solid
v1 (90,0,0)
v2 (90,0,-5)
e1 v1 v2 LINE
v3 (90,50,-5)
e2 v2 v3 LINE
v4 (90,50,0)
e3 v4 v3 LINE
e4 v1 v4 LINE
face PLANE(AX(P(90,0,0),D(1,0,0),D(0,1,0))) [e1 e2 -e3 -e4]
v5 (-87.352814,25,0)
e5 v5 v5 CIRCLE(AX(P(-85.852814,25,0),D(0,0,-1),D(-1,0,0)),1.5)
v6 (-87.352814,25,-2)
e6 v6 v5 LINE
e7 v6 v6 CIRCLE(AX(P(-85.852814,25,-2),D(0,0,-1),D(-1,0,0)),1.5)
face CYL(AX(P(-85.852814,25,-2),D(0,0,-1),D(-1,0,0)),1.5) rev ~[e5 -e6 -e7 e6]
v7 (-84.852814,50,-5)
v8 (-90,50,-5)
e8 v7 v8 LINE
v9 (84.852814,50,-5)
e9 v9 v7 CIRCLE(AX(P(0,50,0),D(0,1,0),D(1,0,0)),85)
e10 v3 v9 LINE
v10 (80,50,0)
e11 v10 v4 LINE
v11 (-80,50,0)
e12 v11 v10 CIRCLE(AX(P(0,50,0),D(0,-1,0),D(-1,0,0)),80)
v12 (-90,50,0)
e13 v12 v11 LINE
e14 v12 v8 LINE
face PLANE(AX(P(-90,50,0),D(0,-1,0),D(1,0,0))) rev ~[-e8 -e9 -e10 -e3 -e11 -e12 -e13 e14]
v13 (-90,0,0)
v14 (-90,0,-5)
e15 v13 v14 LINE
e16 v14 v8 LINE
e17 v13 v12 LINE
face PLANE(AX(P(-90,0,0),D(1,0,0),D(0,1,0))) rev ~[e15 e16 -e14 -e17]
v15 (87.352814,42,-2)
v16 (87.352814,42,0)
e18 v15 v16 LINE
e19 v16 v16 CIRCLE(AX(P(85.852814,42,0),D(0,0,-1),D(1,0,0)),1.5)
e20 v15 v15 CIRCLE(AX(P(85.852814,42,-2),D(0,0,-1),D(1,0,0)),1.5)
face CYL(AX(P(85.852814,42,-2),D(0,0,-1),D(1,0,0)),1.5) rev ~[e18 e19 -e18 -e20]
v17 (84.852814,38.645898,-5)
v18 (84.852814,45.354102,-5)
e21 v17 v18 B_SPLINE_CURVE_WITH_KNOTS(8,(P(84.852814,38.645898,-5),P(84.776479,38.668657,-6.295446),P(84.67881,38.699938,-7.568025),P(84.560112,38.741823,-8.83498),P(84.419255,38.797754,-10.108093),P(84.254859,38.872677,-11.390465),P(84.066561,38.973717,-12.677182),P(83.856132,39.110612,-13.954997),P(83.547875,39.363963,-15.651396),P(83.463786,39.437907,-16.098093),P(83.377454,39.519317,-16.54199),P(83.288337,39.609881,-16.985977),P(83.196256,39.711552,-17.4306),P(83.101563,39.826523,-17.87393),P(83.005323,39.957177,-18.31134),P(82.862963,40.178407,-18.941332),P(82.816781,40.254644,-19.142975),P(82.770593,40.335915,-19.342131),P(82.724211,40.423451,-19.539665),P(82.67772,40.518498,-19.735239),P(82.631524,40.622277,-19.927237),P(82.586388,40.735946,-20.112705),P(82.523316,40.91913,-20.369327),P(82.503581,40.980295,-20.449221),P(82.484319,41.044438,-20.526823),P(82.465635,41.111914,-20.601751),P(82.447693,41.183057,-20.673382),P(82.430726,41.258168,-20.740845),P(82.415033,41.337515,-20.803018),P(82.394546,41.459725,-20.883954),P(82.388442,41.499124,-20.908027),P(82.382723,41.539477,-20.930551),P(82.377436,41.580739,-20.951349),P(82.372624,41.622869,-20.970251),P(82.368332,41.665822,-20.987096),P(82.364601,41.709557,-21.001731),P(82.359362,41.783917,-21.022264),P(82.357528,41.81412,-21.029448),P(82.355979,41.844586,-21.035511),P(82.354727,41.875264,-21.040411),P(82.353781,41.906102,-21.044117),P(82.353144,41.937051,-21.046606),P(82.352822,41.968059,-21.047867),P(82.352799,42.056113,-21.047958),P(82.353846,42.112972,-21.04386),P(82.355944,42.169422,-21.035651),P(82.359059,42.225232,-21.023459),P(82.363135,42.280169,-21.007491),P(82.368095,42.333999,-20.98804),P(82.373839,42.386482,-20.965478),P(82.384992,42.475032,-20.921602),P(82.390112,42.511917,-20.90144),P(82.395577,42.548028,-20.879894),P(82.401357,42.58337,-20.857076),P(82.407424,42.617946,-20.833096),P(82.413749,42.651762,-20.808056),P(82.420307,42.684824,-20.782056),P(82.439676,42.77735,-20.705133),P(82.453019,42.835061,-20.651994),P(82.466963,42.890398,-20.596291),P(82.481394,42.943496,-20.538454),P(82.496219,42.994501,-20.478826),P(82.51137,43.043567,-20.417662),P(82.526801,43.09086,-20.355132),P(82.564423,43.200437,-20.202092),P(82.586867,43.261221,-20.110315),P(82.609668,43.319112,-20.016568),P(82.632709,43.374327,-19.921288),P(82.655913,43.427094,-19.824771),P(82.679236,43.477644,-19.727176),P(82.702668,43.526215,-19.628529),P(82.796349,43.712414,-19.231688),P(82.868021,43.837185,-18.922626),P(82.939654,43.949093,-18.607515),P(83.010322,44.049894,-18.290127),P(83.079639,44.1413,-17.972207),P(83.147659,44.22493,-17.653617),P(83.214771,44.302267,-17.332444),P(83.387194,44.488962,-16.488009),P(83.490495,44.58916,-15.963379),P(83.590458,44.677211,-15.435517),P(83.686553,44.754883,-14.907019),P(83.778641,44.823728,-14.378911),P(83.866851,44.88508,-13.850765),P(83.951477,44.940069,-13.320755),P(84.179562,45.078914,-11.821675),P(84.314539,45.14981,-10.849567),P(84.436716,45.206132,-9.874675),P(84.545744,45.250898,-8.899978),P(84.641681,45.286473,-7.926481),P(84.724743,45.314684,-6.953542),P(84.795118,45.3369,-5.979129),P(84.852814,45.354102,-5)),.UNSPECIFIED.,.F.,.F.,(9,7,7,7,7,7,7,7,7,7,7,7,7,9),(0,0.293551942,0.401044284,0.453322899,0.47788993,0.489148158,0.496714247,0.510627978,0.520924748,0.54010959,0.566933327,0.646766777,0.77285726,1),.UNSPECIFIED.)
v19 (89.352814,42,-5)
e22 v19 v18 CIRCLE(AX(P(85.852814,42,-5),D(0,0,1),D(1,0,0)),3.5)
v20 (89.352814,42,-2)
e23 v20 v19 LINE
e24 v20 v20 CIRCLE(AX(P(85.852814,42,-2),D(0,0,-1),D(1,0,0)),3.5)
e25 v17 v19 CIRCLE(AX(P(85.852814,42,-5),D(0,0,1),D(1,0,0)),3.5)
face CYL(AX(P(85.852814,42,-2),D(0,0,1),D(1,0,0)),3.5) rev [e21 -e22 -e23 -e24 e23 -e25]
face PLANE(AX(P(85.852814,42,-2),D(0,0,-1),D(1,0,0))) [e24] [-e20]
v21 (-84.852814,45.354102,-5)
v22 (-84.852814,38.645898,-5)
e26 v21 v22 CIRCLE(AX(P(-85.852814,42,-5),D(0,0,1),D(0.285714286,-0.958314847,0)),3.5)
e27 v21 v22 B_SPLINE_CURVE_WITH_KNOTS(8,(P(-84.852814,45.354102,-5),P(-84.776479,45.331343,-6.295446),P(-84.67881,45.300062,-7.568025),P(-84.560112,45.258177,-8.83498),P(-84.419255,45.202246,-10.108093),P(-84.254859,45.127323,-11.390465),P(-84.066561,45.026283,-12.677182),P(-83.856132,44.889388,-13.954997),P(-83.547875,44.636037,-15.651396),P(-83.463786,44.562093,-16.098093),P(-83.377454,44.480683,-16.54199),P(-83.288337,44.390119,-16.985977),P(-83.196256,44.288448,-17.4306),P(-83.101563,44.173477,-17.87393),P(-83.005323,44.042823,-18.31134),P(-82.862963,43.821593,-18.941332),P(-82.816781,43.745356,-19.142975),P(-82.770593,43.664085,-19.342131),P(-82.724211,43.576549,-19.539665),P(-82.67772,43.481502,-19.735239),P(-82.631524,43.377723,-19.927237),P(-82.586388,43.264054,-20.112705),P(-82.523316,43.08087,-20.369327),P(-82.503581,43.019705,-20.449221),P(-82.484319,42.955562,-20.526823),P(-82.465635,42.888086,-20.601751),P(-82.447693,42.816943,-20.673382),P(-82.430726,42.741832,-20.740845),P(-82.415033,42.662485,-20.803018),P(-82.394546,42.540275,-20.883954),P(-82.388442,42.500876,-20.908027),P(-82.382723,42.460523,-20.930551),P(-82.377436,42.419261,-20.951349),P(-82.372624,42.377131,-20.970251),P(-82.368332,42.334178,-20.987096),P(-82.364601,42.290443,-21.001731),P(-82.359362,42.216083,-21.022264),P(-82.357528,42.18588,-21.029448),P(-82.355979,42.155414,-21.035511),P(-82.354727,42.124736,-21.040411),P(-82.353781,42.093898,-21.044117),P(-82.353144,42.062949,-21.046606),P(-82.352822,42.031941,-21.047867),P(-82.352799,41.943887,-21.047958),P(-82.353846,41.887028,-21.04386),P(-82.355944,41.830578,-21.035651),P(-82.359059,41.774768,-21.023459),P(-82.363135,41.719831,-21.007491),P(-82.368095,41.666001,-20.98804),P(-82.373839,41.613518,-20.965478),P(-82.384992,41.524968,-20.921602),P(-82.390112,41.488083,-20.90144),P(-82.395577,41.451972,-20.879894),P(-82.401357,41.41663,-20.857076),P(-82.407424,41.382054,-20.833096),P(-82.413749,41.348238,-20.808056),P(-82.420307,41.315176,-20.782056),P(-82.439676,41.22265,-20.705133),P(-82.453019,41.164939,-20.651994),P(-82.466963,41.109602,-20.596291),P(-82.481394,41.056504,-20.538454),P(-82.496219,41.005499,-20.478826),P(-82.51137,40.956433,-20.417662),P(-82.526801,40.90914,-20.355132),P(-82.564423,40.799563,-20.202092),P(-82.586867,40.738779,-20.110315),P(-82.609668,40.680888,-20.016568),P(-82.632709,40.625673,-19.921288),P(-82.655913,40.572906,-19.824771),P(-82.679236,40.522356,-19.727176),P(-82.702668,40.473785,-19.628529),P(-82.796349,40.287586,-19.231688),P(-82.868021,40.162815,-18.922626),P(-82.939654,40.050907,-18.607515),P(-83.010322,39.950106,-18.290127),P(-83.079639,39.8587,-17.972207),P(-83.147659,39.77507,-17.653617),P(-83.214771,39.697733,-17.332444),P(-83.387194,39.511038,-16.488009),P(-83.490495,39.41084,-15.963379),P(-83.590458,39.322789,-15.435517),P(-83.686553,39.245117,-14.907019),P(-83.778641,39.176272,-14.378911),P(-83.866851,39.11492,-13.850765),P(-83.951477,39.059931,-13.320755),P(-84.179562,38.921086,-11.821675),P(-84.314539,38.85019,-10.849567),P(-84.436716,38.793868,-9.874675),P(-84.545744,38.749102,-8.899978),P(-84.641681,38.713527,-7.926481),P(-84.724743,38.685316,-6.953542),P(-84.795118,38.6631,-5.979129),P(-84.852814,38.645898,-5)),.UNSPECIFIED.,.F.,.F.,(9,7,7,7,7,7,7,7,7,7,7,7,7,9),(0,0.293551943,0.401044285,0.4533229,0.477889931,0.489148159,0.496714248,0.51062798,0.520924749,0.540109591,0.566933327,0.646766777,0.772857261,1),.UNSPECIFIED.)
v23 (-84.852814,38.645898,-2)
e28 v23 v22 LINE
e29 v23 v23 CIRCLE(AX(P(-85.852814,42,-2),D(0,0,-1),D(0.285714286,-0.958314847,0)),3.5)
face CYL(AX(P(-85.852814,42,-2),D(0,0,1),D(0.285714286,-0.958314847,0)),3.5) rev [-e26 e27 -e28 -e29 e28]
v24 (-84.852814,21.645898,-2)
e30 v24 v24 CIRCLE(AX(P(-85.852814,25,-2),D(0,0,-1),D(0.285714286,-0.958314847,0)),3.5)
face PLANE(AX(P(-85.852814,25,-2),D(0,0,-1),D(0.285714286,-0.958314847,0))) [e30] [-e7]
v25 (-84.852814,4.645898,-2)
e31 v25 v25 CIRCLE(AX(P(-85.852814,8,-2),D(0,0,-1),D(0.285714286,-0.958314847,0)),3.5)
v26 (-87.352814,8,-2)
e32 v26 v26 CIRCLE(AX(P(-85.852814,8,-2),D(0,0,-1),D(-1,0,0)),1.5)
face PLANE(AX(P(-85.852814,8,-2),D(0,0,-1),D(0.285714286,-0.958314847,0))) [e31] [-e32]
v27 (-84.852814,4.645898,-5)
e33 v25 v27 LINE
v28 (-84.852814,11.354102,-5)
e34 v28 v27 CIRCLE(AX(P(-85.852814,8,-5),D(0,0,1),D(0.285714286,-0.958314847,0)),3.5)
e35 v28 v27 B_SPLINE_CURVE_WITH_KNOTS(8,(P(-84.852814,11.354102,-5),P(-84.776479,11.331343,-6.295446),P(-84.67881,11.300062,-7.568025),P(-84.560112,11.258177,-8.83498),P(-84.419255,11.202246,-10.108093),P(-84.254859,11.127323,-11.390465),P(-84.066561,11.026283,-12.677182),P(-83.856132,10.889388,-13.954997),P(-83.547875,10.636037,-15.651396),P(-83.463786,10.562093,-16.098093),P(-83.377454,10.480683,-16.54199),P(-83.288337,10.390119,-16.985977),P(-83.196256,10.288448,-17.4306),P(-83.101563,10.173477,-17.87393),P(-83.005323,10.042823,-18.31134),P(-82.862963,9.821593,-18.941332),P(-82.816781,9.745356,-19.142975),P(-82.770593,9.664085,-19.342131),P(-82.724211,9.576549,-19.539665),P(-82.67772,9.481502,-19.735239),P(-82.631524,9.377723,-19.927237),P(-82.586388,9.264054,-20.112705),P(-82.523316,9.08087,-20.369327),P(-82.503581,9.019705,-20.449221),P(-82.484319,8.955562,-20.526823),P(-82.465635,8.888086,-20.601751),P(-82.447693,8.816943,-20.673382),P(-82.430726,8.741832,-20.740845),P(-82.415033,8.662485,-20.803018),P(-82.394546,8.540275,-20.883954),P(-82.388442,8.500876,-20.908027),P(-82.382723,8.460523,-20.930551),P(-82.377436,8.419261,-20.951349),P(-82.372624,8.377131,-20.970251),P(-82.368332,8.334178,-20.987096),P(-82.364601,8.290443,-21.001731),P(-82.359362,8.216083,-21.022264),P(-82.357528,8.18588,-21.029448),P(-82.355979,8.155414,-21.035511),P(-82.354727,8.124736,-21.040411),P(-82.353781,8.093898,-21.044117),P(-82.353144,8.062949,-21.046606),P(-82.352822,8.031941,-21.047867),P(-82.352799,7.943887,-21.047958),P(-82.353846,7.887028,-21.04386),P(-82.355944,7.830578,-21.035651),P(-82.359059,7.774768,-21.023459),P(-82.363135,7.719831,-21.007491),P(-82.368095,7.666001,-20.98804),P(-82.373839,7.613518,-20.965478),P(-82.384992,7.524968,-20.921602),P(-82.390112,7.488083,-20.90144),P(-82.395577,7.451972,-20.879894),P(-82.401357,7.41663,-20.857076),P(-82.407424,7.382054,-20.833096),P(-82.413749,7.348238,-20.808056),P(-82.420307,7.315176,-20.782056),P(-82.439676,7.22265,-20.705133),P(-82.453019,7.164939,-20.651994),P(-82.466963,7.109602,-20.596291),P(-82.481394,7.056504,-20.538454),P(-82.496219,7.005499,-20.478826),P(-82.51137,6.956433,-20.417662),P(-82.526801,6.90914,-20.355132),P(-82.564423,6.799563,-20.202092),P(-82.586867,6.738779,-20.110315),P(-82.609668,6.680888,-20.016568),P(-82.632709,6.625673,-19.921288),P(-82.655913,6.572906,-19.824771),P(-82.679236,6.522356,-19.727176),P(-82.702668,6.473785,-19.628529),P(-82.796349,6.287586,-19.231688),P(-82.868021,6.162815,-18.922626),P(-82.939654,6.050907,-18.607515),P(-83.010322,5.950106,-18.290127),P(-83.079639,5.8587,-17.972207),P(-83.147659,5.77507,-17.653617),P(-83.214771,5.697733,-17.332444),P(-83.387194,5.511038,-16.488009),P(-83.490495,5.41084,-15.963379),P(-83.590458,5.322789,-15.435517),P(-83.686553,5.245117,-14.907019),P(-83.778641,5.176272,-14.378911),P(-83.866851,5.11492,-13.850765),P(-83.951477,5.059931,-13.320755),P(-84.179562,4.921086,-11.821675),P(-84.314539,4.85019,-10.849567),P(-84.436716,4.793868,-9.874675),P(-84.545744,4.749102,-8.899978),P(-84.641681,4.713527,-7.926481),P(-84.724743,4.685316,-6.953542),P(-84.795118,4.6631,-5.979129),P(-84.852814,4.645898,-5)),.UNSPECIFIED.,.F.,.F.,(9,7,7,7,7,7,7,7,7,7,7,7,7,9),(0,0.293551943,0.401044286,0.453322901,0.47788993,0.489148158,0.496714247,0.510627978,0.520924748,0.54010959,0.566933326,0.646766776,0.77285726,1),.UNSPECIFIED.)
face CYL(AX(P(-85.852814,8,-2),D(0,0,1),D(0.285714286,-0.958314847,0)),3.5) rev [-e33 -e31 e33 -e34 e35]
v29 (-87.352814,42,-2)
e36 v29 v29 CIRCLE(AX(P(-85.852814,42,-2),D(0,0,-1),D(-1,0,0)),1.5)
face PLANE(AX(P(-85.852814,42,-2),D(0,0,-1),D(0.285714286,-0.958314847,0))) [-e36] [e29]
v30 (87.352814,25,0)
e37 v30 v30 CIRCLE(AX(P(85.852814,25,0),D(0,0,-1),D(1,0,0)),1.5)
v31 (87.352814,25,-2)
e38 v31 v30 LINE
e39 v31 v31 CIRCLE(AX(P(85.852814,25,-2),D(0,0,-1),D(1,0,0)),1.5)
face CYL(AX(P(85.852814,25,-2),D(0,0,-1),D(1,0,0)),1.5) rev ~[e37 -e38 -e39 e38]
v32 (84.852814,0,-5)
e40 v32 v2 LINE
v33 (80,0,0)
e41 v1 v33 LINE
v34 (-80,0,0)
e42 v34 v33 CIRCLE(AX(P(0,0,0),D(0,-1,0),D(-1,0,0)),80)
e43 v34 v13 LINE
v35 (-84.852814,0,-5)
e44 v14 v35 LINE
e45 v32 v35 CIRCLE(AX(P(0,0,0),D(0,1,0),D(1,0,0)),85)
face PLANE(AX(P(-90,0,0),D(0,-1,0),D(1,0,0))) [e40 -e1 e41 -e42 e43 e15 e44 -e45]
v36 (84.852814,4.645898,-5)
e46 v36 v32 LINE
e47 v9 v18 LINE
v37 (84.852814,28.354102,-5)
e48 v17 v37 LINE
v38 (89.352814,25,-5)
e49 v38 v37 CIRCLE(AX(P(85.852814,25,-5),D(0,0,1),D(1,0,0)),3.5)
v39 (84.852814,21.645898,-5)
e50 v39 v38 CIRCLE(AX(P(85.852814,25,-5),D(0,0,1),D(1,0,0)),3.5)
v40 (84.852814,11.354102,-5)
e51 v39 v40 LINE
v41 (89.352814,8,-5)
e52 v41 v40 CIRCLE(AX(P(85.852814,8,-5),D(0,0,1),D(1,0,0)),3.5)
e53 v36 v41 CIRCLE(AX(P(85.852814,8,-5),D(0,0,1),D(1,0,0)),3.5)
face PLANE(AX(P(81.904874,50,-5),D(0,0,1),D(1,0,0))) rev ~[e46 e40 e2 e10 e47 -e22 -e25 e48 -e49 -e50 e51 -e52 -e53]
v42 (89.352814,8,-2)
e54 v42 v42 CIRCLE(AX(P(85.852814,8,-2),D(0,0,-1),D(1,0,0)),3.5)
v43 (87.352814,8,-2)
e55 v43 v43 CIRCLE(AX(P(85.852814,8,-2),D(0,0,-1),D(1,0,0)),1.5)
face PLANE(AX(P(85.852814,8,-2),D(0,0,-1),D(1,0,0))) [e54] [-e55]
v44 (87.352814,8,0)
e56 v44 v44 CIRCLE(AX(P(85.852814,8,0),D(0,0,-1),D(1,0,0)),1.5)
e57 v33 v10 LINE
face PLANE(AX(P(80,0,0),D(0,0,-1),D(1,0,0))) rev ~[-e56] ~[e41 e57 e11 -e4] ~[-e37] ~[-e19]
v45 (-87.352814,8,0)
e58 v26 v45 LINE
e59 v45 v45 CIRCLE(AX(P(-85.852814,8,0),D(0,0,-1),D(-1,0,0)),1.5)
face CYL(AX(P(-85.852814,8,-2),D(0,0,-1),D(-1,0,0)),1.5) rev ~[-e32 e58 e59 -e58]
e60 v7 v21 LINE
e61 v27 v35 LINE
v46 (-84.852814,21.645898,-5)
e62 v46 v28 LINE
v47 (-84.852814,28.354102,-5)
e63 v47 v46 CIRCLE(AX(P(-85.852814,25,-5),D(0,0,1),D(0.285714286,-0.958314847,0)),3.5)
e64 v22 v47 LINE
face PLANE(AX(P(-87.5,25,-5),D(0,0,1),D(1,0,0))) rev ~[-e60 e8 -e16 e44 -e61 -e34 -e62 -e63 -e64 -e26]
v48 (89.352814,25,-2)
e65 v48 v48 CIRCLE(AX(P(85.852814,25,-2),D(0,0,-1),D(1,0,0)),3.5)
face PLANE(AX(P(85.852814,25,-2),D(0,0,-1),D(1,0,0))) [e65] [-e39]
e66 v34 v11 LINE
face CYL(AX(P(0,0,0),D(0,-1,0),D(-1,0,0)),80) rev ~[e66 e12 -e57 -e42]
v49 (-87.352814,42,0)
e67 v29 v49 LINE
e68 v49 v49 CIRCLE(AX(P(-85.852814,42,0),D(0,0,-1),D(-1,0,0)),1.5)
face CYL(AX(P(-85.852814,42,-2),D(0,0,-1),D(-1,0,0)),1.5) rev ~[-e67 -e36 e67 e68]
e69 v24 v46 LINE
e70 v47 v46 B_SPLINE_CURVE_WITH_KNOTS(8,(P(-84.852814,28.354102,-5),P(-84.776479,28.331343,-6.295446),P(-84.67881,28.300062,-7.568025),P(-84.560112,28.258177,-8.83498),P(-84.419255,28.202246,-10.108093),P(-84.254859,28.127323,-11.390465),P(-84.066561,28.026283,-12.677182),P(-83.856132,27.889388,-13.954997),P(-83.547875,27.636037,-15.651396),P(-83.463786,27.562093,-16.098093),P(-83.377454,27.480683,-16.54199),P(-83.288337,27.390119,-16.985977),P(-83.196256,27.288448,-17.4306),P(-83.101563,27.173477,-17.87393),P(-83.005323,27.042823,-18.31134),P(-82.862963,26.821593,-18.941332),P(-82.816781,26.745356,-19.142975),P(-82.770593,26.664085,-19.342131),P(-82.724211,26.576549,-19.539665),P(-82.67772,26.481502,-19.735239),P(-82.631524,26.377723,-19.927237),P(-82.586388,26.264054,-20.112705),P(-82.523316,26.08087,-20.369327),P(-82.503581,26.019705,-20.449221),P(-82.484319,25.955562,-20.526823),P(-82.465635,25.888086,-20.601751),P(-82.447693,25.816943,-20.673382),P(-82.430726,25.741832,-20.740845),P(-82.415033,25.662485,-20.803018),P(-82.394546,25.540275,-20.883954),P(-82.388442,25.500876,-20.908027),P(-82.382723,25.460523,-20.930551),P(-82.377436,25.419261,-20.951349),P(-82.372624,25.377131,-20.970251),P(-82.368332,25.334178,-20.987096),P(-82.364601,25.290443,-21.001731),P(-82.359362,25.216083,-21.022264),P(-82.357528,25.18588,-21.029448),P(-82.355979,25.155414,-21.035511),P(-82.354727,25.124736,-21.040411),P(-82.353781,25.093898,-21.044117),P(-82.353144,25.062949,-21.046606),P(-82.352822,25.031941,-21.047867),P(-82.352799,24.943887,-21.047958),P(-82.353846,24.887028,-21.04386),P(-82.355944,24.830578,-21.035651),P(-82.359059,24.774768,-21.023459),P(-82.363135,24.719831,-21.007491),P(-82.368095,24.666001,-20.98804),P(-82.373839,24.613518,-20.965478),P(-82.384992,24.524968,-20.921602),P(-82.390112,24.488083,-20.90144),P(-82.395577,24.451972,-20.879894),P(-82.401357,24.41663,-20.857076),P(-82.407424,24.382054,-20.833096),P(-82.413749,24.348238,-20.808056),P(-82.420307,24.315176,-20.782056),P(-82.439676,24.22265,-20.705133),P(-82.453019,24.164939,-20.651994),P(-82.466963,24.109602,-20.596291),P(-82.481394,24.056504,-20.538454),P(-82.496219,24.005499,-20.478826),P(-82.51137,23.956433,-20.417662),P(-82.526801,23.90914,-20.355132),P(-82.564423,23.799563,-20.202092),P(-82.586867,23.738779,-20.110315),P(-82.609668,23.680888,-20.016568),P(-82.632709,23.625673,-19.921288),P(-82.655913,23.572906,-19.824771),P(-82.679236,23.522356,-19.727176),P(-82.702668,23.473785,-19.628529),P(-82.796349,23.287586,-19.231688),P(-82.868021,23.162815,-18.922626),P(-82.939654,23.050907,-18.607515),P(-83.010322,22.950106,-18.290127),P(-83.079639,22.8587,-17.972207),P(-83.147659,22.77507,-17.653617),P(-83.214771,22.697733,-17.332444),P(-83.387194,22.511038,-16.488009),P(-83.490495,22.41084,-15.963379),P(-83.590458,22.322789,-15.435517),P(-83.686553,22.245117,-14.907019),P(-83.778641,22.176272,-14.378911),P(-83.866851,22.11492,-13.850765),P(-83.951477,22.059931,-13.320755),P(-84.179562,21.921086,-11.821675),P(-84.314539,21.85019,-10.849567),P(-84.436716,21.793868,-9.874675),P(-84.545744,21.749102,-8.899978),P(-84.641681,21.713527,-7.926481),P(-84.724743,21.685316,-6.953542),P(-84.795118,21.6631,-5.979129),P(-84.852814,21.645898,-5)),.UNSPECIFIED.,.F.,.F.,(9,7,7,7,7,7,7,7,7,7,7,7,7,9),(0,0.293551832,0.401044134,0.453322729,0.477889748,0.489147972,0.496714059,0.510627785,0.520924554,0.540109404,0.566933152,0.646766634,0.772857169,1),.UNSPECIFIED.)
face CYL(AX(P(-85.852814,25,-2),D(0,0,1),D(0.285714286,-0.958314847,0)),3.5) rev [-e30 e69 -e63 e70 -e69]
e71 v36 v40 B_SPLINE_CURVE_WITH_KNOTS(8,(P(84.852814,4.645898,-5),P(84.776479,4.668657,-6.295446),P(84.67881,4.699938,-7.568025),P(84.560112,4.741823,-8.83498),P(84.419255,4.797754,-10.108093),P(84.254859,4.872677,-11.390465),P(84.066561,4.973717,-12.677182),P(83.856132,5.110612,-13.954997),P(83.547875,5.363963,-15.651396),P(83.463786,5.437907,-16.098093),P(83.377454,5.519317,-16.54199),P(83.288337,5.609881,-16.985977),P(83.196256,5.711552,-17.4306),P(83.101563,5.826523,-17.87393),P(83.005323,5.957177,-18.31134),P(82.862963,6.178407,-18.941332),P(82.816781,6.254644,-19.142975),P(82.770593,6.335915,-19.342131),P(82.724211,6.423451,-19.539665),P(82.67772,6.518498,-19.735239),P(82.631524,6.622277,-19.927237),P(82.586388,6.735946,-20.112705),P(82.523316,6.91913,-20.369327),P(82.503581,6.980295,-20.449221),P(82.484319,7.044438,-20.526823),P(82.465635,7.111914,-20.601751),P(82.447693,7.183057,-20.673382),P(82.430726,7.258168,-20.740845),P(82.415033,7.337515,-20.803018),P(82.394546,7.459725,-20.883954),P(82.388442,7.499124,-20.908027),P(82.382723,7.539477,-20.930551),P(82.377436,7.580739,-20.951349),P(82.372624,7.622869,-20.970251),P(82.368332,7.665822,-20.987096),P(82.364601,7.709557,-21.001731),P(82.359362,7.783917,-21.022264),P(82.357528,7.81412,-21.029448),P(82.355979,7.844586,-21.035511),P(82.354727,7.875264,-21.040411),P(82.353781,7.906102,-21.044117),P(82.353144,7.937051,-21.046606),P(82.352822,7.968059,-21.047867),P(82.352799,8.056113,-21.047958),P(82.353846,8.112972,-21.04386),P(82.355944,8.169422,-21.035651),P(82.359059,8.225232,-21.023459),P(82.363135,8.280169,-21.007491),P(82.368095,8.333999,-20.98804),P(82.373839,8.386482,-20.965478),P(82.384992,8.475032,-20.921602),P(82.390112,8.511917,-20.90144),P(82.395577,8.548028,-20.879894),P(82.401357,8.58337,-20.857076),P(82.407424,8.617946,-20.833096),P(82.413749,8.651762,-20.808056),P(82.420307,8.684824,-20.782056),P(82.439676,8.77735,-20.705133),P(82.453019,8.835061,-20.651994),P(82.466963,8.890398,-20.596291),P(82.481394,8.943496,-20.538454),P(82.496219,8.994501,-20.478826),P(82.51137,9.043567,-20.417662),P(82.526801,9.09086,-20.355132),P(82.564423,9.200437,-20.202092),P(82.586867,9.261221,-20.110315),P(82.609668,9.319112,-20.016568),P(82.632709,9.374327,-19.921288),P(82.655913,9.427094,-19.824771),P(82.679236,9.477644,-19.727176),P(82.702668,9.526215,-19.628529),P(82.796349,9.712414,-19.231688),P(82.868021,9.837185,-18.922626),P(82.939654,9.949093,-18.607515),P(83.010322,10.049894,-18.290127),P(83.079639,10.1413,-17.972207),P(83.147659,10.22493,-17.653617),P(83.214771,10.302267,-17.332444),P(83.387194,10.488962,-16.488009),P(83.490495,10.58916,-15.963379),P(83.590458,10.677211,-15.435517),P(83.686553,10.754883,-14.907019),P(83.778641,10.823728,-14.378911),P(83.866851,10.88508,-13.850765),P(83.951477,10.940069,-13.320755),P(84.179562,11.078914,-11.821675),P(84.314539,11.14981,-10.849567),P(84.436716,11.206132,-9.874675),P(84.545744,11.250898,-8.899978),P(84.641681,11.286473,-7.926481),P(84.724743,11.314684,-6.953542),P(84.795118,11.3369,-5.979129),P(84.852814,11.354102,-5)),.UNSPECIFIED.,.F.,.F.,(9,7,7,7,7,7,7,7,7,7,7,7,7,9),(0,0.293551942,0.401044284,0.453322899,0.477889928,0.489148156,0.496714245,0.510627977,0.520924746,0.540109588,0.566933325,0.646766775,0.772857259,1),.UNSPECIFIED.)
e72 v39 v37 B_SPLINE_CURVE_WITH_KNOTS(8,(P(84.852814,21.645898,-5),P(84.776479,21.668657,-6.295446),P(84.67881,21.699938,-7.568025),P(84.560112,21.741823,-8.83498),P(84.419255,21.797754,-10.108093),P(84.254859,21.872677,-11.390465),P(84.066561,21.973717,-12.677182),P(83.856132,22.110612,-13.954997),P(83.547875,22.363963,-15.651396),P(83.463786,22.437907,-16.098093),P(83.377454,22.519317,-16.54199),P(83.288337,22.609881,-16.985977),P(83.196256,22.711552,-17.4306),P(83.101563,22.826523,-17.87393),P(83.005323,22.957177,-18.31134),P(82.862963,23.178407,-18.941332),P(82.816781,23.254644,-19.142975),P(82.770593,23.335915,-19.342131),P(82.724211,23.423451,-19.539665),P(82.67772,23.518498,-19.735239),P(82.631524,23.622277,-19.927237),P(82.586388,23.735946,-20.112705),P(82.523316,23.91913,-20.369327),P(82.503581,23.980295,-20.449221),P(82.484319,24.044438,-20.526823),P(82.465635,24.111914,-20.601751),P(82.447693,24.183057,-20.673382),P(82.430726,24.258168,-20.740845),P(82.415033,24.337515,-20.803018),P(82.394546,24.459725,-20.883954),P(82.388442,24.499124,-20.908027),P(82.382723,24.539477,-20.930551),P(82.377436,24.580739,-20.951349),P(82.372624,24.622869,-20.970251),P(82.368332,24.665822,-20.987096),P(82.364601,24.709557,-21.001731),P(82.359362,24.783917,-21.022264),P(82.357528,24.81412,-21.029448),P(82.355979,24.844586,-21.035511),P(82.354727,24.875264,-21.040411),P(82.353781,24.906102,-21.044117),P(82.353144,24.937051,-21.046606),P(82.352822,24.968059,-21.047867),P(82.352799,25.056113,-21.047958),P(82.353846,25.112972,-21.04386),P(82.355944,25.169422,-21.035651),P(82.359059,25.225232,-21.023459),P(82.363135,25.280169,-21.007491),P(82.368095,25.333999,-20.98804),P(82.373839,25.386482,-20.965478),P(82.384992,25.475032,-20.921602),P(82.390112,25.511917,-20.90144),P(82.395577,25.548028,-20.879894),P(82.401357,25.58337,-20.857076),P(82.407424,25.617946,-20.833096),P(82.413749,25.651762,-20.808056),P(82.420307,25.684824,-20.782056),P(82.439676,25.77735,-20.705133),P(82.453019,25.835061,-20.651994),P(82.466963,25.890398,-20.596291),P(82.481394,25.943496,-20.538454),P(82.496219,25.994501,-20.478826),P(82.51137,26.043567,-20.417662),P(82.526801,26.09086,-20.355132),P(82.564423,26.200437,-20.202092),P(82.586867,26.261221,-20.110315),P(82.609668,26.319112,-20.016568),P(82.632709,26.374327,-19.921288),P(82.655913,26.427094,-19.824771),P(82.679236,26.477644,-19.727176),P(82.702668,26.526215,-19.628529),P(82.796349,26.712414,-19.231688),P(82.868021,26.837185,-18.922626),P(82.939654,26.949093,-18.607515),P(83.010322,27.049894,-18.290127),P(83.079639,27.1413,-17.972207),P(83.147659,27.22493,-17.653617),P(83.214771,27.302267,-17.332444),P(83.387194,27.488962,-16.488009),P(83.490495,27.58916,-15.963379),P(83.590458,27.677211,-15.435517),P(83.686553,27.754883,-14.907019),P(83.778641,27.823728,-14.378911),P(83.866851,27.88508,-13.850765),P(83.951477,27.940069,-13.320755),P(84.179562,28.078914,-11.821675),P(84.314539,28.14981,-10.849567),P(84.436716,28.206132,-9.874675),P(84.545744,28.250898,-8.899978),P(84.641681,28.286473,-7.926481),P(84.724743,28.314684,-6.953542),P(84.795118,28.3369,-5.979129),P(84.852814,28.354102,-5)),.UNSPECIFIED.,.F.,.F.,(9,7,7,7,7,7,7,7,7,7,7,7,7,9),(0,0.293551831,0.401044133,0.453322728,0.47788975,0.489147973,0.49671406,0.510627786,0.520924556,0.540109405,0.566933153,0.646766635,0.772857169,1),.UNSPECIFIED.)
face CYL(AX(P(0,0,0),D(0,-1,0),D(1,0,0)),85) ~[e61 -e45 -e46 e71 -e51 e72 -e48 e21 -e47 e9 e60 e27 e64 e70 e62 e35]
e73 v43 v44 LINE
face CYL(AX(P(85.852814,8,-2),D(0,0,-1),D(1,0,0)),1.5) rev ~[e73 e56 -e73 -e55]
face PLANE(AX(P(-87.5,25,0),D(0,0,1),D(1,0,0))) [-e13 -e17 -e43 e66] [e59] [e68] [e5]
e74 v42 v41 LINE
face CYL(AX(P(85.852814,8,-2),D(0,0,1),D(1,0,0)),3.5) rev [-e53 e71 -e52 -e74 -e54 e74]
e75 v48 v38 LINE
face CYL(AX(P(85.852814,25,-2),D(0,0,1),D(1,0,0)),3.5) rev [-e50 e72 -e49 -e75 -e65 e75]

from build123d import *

# Parameters (mm, degrees)
BOSS_EXTRUDE1_DEPTH     = 50
SKETCH2_W               = 5
SKETCH2_H               = 50
BOSS_EXTRUDE2_DEPTH     = 5
BOSS_EXTRUDE2_2_DEPTH   = 5
SKETCH3_W               = 8.095126166
SKETCH3_H               = 5
BOSS_EXTRUDE3_DEPTH     = 50
CUT_EXTRUDE1_DEPTH      = 131.384048104
CUT_EXTRUDE1_DEPTH_BACK = 3
SKETCH4_R               = 3.5
SKETCH5_R               = 1.5
CUT_EXTRUDE2_DEPTH      = 133.245983026


with BuildPart() as part:
    # Sketch1 → Boss-Extrude1 (new body)
    with BuildSketch(Plane(origin=(0, 0, 0), x_dir=(1, 0, 0), z_dir=(0, 1, 0))):
        with BuildLine():
            Line((-85, 0), (-80, 0))
            ThreePointArc((-80, 0), (0, 80), (80, 0))
            Line((80, 0), (85, 0))
            ThreePointArc((85, 0), (0, 85), (-85, 0))
        make_face()
    extrude(amount=BOSS_EXTRUDE1_DEPTH)



with BuildPart() as body_2:
    # Sketch2 → Boss-Extrude2 (new body)
    with BuildSketch(Plane.XY):
        with Locations((87.5, 25)):
            Rectangle(SKETCH2_W, SKETCH2_H)
    extrude(amount=-BOSS_EXTRUDE2_DEPTH)


with BuildPart() as body_3:
    # Sketch2 → Boss-Extrude2 2 (new body)
    with BuildSketch(Plane.XY):
        with Locations((-87.5, 25)):
            Rectangle(SKETCH2_W, SKETCH2_H)
    extrude(amount=-BOSS_EXTRUDE2_2_DEPTH)


with BuildPart() as part_1:
    add(part.part)

    add(body_2.part)  # Boss-Extrude3 merges body 2

    add(body_3.part)  # Boss-Extrude3 merges body 3
    # Sketch3 → Boss-Extrude3 (add)
    with BuildSketch(Plane(origin=(0, 50, 0), x_dir=(1, 0, 0), z_dir=(0, 1, 0))):
        with Locations((-85.952436917, 2.5)):
            Rectangle(SKETCH3_W, SKETCH3_H)
        with Locations((85.952436917, 2.5)):
            Rectangle(SKETCH3_W, SKETCH3_H)
    extrude(amount=-BOSS_EXTRUDE3_DEPTH)

    # Sketch4 → Cut-Extrude1 (cut, two sides: drawn at the far end of the back side and taken through both)
    with BuildSketch(Plane(origin=(0, 0, -5), x_dir=(-1, 0, 0), z_dir=(0, 0, -1)).offset(-CUT_EXTRUDE1_DEPTH_BACK)):
        with Locations(Location((85.852813742, 42, 0), (0, 0, 253.398450401))):
            Circle(SKETCH4_R)
        with Locations(Location((85.852813742, 25, 0), (0, 0, 253.398450401))):
            Circle(SKETCH4_R)
        with Locations(Location((85.852813742, 8, 0), (0, 0, 253.398450401))):
            Circle(SKETCH4_R)
        with Locations(Location((-85.852813742, 8, 0), (0, 0, 180))):
            Circle(SKETCH4_R)
        with Locations(Location((-85.852813742, 25, 0), (0, 0, 180))):
            Circle(SKETCH4_R)
        with Locations(Location((-85.852813742, 42, 0), (0, 0, 180))):
            Circle(SKETCH4_R)
    extrude(amount=CUT_EXTRUDE1_DEPTH + CUT_EXTRUDE1_DEPTH_BACK, mode=Mode.SUBTRACT)

    # Sketch5 → Cut-Extrude2 (cut, through all)
    with BuildSketch(Plane(origin=(0, 0, -2), x_dir=(-1, 0, 0), z_dir=(0, 0, -1))):
        with Locations((85.852813742, 42)):
            Circle(SKETCH5_R)
        with Locations((85.852813742, 25)):
            Circle(SKETCH5_R)
        with Locations(Location((-85.852813742, 8, 0), (0, 0, 180))):
            Circle(SKETCH5_R)
        with Locations((85.852813742, 8)):
            Circle(SKETCH5_R)
        with Locations(Location((-85.852813742, 25, 0), (0, 0, 180))):
            Circle(SKETCH5_R)
        with Locations(Location((-85.852813742, 42, 0), (0, 0, 180))):
            Circle(SKETCH5_R)
    extrude(amount=-CUT_EXTRUDE2_DEPTH, mode=Mode.SUBTRACT)


solid = part_1.part
